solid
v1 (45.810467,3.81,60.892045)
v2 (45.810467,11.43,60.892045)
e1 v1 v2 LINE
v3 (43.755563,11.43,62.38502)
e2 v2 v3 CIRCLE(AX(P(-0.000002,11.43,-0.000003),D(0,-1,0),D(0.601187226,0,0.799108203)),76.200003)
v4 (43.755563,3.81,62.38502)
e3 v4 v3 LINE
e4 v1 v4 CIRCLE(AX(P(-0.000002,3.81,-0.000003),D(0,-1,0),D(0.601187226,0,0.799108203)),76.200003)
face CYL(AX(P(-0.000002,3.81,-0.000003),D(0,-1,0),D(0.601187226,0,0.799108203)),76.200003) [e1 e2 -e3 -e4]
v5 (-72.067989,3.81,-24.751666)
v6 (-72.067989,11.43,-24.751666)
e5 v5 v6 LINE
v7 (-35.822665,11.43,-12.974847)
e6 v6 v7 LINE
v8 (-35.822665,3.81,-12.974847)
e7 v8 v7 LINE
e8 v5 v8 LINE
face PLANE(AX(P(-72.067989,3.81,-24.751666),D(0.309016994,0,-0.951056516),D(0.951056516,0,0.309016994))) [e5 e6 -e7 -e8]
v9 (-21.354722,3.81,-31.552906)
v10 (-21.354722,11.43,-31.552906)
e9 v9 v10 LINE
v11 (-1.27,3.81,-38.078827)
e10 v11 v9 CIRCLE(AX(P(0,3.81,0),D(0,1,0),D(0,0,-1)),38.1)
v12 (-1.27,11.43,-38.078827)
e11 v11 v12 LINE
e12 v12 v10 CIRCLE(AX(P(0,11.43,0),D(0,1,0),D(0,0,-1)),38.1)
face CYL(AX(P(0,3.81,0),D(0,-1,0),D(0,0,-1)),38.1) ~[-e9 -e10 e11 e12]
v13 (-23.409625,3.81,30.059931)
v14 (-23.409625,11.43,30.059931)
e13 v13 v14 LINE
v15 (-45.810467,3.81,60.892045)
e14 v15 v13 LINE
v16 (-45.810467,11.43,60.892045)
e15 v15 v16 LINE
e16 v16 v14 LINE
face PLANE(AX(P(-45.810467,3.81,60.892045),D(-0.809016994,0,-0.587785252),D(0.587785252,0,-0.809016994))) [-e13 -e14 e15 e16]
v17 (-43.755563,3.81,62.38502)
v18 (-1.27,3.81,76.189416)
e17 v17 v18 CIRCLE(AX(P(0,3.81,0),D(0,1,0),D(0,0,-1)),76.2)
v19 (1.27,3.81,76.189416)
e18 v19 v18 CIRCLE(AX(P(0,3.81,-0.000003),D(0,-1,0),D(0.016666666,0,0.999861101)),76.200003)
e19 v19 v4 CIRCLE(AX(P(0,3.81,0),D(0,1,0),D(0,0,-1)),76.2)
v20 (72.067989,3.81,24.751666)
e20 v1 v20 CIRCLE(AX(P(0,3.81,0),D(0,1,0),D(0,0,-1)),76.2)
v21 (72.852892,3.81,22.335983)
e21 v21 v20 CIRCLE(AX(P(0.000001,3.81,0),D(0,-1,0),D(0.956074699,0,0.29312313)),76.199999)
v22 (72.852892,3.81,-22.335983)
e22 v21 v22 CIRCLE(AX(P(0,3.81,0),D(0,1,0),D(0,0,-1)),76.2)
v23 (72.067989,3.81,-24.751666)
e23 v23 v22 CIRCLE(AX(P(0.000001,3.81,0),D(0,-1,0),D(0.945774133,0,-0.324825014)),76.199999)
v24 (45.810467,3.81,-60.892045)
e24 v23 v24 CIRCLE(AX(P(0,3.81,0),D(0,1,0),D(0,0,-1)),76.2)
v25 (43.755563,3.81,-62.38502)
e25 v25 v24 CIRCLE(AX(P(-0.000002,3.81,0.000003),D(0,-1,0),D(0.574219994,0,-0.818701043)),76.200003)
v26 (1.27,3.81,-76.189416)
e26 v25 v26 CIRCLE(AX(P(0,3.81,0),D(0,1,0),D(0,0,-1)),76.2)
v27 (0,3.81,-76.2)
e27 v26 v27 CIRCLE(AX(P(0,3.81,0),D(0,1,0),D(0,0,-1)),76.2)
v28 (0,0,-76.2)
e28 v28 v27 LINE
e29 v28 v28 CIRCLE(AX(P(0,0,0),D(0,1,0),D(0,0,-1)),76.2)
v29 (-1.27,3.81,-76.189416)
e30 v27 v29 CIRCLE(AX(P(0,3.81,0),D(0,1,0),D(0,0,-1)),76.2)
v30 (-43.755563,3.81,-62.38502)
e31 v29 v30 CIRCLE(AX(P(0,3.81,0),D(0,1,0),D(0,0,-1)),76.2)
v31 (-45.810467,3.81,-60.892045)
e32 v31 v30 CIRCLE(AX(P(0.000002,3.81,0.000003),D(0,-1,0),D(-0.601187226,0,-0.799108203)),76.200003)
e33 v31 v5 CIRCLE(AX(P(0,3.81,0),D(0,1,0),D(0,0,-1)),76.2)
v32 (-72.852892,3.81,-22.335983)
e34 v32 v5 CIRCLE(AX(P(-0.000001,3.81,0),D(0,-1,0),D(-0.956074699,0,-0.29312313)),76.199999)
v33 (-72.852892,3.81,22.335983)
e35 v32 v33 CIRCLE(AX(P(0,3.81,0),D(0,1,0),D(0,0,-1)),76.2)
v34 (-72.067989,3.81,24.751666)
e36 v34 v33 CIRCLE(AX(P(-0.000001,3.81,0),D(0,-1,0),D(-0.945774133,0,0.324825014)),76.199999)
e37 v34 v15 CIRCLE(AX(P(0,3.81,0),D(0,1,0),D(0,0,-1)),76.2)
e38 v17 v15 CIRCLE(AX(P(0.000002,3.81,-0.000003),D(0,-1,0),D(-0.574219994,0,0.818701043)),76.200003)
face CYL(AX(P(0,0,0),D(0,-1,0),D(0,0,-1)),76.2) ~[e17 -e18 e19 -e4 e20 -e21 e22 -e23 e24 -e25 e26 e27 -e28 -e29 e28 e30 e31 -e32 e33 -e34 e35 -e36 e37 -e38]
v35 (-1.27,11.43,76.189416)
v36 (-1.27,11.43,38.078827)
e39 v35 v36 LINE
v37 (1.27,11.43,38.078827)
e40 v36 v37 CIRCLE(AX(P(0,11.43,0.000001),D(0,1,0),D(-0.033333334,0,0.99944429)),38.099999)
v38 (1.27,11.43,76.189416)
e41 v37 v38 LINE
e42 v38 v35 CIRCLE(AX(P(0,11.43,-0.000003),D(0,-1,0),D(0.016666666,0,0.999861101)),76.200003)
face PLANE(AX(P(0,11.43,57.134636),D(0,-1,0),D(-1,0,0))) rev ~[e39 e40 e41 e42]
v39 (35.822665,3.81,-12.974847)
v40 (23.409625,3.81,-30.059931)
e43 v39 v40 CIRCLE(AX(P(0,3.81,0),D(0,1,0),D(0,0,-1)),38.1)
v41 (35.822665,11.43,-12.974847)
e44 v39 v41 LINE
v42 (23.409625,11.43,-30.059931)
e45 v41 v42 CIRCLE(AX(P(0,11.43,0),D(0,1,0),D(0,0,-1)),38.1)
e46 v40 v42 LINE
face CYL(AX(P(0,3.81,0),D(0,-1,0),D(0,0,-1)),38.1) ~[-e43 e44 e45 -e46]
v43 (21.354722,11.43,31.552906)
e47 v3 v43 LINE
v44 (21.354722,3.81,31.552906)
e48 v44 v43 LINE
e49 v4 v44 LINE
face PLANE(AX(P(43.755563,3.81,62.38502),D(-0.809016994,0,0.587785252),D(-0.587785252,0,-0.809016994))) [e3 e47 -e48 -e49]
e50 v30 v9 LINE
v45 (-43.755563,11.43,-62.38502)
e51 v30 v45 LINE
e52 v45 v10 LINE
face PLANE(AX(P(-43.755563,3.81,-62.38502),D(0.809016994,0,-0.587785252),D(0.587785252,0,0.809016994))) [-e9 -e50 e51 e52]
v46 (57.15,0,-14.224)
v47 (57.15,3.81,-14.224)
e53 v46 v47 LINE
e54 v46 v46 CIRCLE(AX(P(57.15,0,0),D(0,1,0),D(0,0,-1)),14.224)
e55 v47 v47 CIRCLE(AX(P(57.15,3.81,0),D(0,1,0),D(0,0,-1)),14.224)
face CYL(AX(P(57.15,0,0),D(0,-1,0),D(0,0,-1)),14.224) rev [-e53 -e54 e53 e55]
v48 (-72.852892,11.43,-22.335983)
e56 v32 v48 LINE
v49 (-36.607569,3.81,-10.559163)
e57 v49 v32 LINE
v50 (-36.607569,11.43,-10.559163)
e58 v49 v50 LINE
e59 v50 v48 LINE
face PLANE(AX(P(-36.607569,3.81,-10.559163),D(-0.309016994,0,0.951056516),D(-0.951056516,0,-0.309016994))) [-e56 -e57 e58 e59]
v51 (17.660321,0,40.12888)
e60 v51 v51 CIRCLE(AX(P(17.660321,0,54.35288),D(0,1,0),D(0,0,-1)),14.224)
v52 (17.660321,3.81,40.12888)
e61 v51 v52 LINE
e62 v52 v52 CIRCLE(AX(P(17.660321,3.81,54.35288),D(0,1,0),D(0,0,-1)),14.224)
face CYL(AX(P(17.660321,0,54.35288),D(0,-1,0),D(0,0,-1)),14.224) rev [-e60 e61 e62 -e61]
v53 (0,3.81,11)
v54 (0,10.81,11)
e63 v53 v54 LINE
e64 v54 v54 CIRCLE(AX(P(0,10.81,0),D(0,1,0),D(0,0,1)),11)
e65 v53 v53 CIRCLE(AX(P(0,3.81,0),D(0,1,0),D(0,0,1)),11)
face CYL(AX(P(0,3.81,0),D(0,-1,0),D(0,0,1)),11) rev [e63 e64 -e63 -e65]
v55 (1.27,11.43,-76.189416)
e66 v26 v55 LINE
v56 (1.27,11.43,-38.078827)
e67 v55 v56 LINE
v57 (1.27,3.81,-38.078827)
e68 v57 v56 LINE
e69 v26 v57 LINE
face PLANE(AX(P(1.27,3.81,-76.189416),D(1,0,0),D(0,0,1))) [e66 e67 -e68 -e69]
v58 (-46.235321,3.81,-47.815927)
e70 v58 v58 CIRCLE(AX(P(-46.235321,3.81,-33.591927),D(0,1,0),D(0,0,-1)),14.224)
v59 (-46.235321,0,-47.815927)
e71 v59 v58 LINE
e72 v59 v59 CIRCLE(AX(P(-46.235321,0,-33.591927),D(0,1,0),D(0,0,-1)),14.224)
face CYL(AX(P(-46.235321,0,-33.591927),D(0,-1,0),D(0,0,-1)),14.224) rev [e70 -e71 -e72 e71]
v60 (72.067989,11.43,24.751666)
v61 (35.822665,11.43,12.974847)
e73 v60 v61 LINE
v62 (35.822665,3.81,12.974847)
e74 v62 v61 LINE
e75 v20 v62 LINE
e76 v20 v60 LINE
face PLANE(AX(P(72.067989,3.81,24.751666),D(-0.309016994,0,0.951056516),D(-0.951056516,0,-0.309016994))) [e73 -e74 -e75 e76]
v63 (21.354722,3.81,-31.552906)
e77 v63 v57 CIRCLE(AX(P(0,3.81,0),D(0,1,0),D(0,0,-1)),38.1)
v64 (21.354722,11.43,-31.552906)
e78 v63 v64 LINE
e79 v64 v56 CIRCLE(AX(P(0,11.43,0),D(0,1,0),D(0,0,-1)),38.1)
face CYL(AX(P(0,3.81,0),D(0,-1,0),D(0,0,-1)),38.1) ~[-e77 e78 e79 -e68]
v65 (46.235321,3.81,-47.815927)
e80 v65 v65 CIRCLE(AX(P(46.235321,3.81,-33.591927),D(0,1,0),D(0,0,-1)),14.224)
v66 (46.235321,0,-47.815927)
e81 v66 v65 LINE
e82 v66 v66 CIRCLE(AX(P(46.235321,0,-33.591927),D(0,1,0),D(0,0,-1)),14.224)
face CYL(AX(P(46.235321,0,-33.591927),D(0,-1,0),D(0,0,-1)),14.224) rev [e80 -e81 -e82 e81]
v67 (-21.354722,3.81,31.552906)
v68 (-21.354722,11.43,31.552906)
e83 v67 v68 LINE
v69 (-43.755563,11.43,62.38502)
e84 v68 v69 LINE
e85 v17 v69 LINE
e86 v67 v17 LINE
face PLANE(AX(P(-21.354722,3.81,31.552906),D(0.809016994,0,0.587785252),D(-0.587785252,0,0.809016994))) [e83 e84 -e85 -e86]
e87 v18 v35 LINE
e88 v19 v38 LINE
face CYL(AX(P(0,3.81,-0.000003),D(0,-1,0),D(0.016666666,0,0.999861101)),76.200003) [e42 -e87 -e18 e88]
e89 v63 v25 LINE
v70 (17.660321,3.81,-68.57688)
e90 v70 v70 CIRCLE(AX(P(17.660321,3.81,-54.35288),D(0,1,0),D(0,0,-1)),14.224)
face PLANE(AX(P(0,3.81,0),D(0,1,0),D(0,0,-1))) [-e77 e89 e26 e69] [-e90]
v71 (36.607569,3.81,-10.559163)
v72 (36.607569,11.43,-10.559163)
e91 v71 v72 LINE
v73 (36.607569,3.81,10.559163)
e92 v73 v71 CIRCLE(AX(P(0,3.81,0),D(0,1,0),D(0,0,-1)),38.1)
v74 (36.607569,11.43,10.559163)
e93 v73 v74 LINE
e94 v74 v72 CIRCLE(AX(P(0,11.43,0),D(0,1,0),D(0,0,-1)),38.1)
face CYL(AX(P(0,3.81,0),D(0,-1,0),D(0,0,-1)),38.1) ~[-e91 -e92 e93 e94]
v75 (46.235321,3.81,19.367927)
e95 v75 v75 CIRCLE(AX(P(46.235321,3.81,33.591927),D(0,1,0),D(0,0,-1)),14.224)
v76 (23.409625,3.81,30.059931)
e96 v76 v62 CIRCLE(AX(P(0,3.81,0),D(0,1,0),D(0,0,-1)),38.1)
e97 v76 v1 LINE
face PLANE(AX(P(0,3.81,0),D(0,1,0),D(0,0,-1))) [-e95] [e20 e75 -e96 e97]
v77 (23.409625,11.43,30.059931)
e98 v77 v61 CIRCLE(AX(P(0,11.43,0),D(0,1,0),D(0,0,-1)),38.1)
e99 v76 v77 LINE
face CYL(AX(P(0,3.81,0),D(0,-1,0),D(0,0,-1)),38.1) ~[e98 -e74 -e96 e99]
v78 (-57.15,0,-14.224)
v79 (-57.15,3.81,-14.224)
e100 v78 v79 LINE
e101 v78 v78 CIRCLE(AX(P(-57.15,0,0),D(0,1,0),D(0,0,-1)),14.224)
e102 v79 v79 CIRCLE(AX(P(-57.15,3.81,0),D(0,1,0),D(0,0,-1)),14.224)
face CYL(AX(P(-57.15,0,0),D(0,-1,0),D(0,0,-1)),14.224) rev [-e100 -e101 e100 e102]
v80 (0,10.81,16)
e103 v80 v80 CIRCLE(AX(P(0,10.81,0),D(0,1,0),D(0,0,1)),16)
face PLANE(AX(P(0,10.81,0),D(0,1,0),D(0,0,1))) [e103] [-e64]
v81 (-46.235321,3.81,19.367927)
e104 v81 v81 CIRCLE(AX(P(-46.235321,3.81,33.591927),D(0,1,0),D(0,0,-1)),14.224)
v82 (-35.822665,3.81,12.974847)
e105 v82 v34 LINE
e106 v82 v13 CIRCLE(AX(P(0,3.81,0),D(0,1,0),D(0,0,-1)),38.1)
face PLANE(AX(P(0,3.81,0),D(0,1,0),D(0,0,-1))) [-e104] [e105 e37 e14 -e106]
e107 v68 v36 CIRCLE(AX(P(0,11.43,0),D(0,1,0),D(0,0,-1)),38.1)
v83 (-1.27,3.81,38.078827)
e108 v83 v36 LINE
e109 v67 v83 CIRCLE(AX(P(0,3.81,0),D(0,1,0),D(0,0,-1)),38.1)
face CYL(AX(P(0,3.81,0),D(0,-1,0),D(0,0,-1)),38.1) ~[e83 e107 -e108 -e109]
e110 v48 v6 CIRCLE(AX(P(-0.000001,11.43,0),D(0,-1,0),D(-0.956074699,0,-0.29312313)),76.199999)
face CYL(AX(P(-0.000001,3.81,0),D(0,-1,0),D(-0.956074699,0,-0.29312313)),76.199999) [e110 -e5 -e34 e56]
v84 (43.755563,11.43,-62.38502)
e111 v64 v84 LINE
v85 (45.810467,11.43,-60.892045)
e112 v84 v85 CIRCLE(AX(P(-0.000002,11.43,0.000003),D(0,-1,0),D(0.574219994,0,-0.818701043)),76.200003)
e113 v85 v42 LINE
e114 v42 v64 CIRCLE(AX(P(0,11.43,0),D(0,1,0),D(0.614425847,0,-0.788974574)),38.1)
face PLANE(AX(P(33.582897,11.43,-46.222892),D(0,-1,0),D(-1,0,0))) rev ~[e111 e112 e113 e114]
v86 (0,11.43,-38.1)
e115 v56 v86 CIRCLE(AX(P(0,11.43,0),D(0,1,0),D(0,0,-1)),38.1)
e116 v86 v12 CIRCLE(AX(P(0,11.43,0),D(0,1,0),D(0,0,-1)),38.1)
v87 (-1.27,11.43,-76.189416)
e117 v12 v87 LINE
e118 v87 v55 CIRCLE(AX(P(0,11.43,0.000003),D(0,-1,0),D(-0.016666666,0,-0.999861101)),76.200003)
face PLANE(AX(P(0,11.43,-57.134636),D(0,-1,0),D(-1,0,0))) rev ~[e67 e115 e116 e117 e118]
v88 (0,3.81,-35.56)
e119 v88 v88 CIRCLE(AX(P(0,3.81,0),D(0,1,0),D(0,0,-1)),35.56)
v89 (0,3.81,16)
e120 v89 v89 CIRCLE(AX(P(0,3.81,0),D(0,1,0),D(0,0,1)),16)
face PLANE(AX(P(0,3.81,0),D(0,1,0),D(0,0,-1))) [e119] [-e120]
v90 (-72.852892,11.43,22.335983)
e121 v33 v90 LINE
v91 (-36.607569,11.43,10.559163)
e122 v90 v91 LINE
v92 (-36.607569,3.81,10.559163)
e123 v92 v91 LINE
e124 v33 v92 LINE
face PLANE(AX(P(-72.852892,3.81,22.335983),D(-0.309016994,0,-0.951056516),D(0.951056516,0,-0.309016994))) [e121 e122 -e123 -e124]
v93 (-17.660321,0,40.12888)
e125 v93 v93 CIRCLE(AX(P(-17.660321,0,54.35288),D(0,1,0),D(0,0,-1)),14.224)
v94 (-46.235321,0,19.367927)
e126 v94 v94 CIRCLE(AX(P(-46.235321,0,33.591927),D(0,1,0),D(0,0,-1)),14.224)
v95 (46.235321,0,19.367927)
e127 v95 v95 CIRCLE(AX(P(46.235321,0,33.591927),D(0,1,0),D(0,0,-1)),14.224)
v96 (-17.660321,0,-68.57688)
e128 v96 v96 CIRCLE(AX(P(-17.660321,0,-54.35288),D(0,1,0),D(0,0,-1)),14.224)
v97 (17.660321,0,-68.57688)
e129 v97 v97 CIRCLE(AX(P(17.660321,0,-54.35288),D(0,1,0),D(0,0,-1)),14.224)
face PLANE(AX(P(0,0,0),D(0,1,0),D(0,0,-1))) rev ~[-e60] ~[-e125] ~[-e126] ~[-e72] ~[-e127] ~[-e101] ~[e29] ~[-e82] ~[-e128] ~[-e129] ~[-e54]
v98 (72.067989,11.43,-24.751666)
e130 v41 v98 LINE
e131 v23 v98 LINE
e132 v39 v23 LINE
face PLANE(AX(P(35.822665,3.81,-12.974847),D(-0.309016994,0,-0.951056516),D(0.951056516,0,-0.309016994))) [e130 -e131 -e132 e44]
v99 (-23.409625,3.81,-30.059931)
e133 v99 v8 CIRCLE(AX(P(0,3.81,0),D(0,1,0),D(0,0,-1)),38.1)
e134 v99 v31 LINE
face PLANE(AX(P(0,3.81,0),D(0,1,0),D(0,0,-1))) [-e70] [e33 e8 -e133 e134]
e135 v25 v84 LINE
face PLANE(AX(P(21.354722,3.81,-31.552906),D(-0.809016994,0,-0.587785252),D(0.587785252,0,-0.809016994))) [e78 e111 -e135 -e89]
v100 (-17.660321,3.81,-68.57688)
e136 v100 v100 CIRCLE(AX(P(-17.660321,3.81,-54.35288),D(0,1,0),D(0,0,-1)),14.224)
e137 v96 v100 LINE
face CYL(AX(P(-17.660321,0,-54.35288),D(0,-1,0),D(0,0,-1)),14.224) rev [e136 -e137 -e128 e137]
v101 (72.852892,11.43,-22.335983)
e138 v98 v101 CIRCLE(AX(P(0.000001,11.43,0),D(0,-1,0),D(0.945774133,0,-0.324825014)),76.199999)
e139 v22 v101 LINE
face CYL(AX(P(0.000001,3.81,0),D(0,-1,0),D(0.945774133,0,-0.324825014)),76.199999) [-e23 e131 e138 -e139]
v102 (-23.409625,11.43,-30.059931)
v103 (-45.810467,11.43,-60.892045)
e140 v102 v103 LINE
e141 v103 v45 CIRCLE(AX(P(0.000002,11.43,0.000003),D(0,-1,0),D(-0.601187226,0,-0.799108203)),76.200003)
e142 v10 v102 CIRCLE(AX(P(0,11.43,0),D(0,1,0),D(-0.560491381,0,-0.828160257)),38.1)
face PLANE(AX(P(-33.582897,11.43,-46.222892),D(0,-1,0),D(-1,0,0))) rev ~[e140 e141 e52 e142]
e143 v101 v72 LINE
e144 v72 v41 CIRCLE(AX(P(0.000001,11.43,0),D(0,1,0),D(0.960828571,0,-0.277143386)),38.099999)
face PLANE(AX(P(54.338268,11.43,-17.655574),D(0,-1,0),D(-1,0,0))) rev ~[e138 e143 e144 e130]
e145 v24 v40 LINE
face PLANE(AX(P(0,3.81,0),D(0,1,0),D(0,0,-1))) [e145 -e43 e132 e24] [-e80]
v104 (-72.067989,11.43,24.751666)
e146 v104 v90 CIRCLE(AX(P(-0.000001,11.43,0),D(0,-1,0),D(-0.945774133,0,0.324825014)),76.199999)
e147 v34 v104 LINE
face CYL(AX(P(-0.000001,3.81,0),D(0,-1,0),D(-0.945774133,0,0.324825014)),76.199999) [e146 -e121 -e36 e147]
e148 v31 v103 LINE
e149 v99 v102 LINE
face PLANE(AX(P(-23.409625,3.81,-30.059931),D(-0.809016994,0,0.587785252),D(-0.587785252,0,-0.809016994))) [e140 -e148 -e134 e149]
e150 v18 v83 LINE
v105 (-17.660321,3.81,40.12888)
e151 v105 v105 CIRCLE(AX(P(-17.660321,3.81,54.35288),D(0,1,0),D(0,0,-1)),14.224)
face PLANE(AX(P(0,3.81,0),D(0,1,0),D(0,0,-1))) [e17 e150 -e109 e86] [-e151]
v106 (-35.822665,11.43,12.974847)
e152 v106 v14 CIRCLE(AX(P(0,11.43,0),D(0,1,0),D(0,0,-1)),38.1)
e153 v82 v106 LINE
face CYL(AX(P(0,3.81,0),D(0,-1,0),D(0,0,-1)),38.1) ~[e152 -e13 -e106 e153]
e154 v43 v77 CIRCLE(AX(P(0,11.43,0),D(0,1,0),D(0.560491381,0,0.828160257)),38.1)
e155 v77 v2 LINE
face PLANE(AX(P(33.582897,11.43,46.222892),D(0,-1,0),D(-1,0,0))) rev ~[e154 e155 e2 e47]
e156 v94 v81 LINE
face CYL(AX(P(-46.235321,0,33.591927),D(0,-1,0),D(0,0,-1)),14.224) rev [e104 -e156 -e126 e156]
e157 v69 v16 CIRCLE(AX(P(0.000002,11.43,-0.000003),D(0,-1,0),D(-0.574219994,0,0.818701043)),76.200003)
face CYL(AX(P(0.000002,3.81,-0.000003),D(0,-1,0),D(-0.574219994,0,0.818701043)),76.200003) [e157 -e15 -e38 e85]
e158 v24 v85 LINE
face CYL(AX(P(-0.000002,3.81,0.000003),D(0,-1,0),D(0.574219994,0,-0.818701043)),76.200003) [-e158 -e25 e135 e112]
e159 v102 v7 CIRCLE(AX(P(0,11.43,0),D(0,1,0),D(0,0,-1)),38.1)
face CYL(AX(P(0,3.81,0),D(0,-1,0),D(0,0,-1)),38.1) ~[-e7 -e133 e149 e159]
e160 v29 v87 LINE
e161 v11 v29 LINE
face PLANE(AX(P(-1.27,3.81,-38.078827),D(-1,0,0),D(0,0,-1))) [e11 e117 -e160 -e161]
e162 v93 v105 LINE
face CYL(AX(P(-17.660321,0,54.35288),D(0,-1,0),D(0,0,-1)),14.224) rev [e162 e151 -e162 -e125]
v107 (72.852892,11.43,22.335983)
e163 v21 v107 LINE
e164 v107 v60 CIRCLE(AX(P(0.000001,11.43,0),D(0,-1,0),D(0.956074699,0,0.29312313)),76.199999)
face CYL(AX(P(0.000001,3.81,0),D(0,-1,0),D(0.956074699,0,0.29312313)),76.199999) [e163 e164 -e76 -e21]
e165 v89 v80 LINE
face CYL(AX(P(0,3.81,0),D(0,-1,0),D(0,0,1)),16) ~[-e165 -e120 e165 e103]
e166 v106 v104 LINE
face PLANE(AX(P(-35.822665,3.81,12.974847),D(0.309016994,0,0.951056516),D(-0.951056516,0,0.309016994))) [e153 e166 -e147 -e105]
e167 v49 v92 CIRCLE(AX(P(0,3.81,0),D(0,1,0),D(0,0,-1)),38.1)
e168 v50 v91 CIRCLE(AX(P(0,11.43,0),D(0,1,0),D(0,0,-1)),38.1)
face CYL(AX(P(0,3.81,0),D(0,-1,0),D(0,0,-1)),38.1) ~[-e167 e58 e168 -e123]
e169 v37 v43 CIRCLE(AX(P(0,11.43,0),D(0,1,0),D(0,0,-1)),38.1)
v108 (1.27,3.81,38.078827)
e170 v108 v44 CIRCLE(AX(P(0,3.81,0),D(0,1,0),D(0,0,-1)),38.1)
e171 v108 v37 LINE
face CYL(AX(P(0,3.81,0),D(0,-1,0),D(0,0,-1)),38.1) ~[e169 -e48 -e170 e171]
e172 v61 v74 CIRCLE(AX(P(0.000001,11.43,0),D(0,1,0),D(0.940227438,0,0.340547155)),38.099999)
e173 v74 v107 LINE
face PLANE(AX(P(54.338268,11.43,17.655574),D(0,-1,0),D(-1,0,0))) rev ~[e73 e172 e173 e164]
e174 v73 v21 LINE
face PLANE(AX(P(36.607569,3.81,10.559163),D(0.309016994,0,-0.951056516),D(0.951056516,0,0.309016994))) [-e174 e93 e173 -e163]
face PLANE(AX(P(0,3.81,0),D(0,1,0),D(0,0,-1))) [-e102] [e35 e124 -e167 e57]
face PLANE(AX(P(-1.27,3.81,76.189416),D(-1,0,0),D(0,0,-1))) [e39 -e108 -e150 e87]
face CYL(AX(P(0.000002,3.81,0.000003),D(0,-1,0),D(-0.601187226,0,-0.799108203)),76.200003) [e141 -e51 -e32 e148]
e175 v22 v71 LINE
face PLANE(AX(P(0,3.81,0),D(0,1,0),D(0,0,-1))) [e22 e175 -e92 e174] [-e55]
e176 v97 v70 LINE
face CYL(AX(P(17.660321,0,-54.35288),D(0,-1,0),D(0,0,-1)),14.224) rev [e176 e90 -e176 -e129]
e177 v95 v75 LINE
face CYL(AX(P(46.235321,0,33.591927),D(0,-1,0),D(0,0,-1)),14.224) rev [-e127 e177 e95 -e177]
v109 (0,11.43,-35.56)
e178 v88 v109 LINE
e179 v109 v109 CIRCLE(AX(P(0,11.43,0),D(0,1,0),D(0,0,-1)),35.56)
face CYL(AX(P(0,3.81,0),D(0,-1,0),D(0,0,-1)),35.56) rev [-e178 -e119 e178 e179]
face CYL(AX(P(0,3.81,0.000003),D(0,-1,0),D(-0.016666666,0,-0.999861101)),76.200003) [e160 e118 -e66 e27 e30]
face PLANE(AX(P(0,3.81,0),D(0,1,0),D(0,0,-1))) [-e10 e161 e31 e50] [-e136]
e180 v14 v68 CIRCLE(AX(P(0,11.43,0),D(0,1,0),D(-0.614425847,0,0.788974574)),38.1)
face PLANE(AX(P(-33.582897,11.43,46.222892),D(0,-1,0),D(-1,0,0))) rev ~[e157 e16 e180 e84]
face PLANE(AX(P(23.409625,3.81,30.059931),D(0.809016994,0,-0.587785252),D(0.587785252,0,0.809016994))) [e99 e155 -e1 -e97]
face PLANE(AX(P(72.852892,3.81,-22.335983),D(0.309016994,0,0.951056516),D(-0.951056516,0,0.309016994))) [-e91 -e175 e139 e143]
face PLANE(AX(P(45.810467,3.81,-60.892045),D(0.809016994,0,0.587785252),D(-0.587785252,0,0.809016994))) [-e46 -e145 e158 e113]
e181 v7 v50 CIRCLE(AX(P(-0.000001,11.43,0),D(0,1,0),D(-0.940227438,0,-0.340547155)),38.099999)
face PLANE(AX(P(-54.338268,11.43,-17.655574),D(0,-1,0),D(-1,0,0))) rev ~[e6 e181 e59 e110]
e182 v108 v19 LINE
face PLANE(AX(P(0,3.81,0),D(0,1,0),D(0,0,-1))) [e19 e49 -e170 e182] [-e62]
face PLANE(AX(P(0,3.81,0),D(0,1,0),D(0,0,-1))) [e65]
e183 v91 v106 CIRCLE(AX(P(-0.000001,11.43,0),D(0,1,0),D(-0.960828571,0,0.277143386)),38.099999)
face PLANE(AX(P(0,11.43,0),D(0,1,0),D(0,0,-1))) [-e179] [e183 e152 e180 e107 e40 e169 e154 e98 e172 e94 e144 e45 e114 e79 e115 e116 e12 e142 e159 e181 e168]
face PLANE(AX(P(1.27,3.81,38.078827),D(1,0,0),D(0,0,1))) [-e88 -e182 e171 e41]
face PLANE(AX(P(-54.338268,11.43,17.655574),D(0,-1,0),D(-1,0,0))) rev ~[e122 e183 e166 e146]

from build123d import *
from build123d.topology import SkipClean

# Parameters (mm, degrees)
SKETCH1_R           = 76.2
SKETCH1_R_2         = 14.224
BOSS_EXTRUDE1_DEPTH = 3.81
SKETCH3_R           = 38.1
SKETCH3_R_2         = 35.56
BOSS_EXTRUDE3_DEPTH = 7.62
BOSS_EXTRUDE4_DEPTH = 7.62
SKETCH4_R           = 16
SKETCH4_R_2         = 11
BOSS_EXTRUDE5_DEPTH = 7


with BuildPart() as part:
    # Sketch1 → Boss-Extrude1 (new body)
    with BuildSketch(Plane(origin=(0, 0, 0), x_dir=(1, 0, 0), z_dir=(0, 1, 0))):
        with Locations(Location((0, 0, 0), (0, 0, 90))):
            Circle(SKETCH1_R)
        with Locations(Location((-57.15, 0, 0), (0, 0, 90))):
            Circle(SKETCH1_R_2, mode=Mode.SUBTRACT)
        with Locations(Location((-46.235321229, 33.591927169, 0), (0, 0, 90))):
            Circle(SKETCH1_R_2, mode=Mode.SUBTRACT)
        with Locations(Location((-17.660321229, 54.352879906, 0), (0, 0, 90))):
            Circle(SKETCH1_R_2, mode=Mode.SUBTRACT)
        with Locations(Location((17.660321229, 54.352879906, 0), (0, 0, 90))):
            Circle(SKETCH1_R_2, mode=Mode.SUBTRACT)
        with Locations(Location((46.235321229, 33.591927169, 0), (0, 0, 90))):
            Circle(SKETCH1_R_2, mode=Mode.SUBTRACT)
        with Locations(Location((57.15, 0, 0), (0, 0, 90))):
            Circle(SKETCH1_R_2, mode=Mode.SUBTRACT)
        with Locations(Location((46.235321229, -33.591927169, 0), (0, 0, 90))):
            Circle(SKETCH1_R_2, mode=Mode.SUBTRACT)
        with Locations(Location((17.660321229, -54.352879906, 0), (0, 0, 90))):
            Circle(SKETCH1_R_2, mode=Mode.SUBTRACT)
        with Locations(Location((-17.660321229, -54.352879906, 0), (0, 0, 90))):
            Circle(SKETCH1_R_2, mode=Mode.SUBTRACT)
        with Locations(Location((-46.235321229, -33.591927169, 0), (0, 0, 90))):
            Circle(SKETCH1_R_2, mode=Mode.SUBTRACT)
    extrude(amount=BOSS_EXTRUDE1_DEPTH)

    # Sketch3 → Boss-Extrude3 (add)
    with BuildSketch(Plane(origin=(0, 3.81, 0), x_dir=(1, 0, 0), z_dir=(0, 1, 0))):
        with Locations(Location((0, 0, 0), (0, 0, 90))):
            Circle(SKETCH3_R)
        with Locations(Location((0, 0, 0), (0, 0, 90))):
            Circle(SKETCH3_R_2, mode=Mode.SUBTRACT)
    extrude(amount=BOSS_EXTRUDE3_DEPTH)

    # Sketch2 → Boss-Extrude4 (add)
    with SkipClean():  # the faces are left unmerged after this step: merging them gives an invalid solid
        with BuildSketch(Plane(origin=(0, 3.81, 0), x_dir=(1, 0, 0), z_dir=(0, 1, 0))):
            with BuildLine():
                Line((-72.852892077, -22.335982539), (-36.607568562, -10.559163032))
                ThreePointArc((-36.607568562, -10.559163032), (-36.235253271, -11.773547486), (-35.822665397, -12.974846584))
                Line((-35.822665397, -12.974846584), (-72.067988912, -24.75166609))
                ThreePointArc((-72.067988912, -24.75166609), (-72.470506542, -23.547094971), (-72.852892077, -22.335982539))
            make_face()
            with BuildLine():
                Line((-72.067988912, 24.75166609), (-35.822665397, 12.974846584))
                ThreePointArc((-35.822665397, 12.974846584), (-36.235253271, 11.773547486), (-36.607568562, 10.559163032))
                Line((-36.607568562, 10.559163032), (-72.852892077, 22.335982539))
                ThreePointArc((-72.852892077, 22.335982539), (-72.470506542, 23.547094971), (-72.067988912, 24.75166609))
            make_face()
            with BuildLine():
                Line((-43.755563483, 62.385019551), (-21.354721617, 31.552905804))
                ThreePointArc((-21.354721617, 31.552905804), (-22.394618112, 30.823547486), (-23.409624783, 30.059931263))
                Line((-23.409624783, 30.059931263), (-45.810466648, 60.89204501))
                ThreePointArc((-45.810466648, 60.89204501), (-44.789236225, 61.647094971), (-43.755563483, 62.385019551))
            make_face()
            with BuildLine():
                Line((1.27, 76.189415932), (1.27, 38.07882745))
                ThreePointArc((1.27, 38.07882745), (0, 38.1), (-1.27, 38.07882745))
                Line((-1.27, 38.07882745), (-1.27, 76.189415932))
                ThreePointArc((-1.27, 76.189415932), (0, 76.2), (1.27, 76.189415932))
            make_face()
            with BuildLine():
                Line((45.810466648, 60.89204501), (23.409624783, 30.059931263))
                ThreePointArc((23.409624783, 30.059931263), (22.394618112, 30.823547486), (21.354721617, 31.552905804))
                Line((21.354721617, 31.552905804), (43.755563483, 62.385019551))
                ThreePointArc((43.755563483, 62.385019551), (44.789236225, 61.647094971), (45.810466648, 60.89204501))
            make_face()
            with BuildLine():
                Line((72.852892077, 22.335982539), (36.607568562, 10.559163032))
                ThreePointArc((36.607568562, 10.559163032), (36.235253271, 11.773547486), (35.822665397, 12.974846584))
                Line((35.822665397, 12.974846584), (72.067988912, 24.75166609))
                ThreePointArc((72.067988912, 24.75166609), (72.470506542, 23.547094971), (72.852892077, 22.335982539))
            make_face()
            with BuildLine():
                Line((72.067988912, -24.75166609), (35.822665397, -12.974846584))
                ThreePointArc((35.822665397, -12.974846584), (36.235253271, -11.773547486), (36.607568562, -10.559163032))
                Line((36.607568562, -10.559163032), (72.852892077, -22.335982539))
                ThreePointArc((72.852892077, -22.335982539), (72.470506542, -23.547094971), (72.067988912, -24.75166609))
            make_face()
            with BuildLine():
                Line((43.755563483, -62.385019551), (21.354721617, -31.552905804))
                ThreePointArc((21.354721617, -31.552905804), (22.394618112, -30.823547486), (23.409624783, -30.059931263))
                Line((23.409624783, -30.059931263), (45.810466648, -60.89204501))
                ThreePointArc((45.810466648, -60.89204501), (44.789236225, -61.647094971), (43.755563483, -62.385019551))
            make_face()
            with BuildLine():
                Line((-1.27, -76.189415932), (-1.27, -38.07882745))
                ThreePointArc((-1.27, -38.07882745), (0, -38.1), (1.27, -38.07882745))
                Line((1.27, -38.07882745), (1.27, -76.189415932))
                ThreePointArc((1.27, -76.189415932), (0, -76.2), (-1.27, -76.189415932))
            make_face()
            with BuildLine():
                Line((-45.810466648, -60.89204501), (-23.409624783, -30.059931263))
                ThreePointArc((-23.409624783, -30.059931263), (-22.394618112, -30.823547486), (-21.354721617, -31.552905804))
                Line((-21.354721617, -31.552905804), (-43.755563483, -62.385019551))
                ThreePointArc((-43.755563483, -62.385019551), (-44.789236225, -61.647094971), (-45.810466648, -60.89204501))
            make_face()
        extrude(amount=BOSS_EXTRUDE4_DEPTH)

    # Sketch4 → Boss-Extrude5 (add)
    with SkipClean():  # the faces are left unmerged after this step: merging them gives an invalid solid
        with BuildSketch(Plane(origin=(0, 3.81, 0), x_dir=(1, 0, 0), z_dir=(0, 1, 0))):
            with Locations(Location((0, 0, 0), (0, 0, 270))):
                Circle(SKETCH4_R)
            with Locations(Location((0, 0, 0), (0, 0, 270))):
                Circle(SKETCH4_R_2, mode=Mode.SUBTRACT)
        extrude(amount=BOSS_EXTRUDE5_DEPTH)


solid = part.part
